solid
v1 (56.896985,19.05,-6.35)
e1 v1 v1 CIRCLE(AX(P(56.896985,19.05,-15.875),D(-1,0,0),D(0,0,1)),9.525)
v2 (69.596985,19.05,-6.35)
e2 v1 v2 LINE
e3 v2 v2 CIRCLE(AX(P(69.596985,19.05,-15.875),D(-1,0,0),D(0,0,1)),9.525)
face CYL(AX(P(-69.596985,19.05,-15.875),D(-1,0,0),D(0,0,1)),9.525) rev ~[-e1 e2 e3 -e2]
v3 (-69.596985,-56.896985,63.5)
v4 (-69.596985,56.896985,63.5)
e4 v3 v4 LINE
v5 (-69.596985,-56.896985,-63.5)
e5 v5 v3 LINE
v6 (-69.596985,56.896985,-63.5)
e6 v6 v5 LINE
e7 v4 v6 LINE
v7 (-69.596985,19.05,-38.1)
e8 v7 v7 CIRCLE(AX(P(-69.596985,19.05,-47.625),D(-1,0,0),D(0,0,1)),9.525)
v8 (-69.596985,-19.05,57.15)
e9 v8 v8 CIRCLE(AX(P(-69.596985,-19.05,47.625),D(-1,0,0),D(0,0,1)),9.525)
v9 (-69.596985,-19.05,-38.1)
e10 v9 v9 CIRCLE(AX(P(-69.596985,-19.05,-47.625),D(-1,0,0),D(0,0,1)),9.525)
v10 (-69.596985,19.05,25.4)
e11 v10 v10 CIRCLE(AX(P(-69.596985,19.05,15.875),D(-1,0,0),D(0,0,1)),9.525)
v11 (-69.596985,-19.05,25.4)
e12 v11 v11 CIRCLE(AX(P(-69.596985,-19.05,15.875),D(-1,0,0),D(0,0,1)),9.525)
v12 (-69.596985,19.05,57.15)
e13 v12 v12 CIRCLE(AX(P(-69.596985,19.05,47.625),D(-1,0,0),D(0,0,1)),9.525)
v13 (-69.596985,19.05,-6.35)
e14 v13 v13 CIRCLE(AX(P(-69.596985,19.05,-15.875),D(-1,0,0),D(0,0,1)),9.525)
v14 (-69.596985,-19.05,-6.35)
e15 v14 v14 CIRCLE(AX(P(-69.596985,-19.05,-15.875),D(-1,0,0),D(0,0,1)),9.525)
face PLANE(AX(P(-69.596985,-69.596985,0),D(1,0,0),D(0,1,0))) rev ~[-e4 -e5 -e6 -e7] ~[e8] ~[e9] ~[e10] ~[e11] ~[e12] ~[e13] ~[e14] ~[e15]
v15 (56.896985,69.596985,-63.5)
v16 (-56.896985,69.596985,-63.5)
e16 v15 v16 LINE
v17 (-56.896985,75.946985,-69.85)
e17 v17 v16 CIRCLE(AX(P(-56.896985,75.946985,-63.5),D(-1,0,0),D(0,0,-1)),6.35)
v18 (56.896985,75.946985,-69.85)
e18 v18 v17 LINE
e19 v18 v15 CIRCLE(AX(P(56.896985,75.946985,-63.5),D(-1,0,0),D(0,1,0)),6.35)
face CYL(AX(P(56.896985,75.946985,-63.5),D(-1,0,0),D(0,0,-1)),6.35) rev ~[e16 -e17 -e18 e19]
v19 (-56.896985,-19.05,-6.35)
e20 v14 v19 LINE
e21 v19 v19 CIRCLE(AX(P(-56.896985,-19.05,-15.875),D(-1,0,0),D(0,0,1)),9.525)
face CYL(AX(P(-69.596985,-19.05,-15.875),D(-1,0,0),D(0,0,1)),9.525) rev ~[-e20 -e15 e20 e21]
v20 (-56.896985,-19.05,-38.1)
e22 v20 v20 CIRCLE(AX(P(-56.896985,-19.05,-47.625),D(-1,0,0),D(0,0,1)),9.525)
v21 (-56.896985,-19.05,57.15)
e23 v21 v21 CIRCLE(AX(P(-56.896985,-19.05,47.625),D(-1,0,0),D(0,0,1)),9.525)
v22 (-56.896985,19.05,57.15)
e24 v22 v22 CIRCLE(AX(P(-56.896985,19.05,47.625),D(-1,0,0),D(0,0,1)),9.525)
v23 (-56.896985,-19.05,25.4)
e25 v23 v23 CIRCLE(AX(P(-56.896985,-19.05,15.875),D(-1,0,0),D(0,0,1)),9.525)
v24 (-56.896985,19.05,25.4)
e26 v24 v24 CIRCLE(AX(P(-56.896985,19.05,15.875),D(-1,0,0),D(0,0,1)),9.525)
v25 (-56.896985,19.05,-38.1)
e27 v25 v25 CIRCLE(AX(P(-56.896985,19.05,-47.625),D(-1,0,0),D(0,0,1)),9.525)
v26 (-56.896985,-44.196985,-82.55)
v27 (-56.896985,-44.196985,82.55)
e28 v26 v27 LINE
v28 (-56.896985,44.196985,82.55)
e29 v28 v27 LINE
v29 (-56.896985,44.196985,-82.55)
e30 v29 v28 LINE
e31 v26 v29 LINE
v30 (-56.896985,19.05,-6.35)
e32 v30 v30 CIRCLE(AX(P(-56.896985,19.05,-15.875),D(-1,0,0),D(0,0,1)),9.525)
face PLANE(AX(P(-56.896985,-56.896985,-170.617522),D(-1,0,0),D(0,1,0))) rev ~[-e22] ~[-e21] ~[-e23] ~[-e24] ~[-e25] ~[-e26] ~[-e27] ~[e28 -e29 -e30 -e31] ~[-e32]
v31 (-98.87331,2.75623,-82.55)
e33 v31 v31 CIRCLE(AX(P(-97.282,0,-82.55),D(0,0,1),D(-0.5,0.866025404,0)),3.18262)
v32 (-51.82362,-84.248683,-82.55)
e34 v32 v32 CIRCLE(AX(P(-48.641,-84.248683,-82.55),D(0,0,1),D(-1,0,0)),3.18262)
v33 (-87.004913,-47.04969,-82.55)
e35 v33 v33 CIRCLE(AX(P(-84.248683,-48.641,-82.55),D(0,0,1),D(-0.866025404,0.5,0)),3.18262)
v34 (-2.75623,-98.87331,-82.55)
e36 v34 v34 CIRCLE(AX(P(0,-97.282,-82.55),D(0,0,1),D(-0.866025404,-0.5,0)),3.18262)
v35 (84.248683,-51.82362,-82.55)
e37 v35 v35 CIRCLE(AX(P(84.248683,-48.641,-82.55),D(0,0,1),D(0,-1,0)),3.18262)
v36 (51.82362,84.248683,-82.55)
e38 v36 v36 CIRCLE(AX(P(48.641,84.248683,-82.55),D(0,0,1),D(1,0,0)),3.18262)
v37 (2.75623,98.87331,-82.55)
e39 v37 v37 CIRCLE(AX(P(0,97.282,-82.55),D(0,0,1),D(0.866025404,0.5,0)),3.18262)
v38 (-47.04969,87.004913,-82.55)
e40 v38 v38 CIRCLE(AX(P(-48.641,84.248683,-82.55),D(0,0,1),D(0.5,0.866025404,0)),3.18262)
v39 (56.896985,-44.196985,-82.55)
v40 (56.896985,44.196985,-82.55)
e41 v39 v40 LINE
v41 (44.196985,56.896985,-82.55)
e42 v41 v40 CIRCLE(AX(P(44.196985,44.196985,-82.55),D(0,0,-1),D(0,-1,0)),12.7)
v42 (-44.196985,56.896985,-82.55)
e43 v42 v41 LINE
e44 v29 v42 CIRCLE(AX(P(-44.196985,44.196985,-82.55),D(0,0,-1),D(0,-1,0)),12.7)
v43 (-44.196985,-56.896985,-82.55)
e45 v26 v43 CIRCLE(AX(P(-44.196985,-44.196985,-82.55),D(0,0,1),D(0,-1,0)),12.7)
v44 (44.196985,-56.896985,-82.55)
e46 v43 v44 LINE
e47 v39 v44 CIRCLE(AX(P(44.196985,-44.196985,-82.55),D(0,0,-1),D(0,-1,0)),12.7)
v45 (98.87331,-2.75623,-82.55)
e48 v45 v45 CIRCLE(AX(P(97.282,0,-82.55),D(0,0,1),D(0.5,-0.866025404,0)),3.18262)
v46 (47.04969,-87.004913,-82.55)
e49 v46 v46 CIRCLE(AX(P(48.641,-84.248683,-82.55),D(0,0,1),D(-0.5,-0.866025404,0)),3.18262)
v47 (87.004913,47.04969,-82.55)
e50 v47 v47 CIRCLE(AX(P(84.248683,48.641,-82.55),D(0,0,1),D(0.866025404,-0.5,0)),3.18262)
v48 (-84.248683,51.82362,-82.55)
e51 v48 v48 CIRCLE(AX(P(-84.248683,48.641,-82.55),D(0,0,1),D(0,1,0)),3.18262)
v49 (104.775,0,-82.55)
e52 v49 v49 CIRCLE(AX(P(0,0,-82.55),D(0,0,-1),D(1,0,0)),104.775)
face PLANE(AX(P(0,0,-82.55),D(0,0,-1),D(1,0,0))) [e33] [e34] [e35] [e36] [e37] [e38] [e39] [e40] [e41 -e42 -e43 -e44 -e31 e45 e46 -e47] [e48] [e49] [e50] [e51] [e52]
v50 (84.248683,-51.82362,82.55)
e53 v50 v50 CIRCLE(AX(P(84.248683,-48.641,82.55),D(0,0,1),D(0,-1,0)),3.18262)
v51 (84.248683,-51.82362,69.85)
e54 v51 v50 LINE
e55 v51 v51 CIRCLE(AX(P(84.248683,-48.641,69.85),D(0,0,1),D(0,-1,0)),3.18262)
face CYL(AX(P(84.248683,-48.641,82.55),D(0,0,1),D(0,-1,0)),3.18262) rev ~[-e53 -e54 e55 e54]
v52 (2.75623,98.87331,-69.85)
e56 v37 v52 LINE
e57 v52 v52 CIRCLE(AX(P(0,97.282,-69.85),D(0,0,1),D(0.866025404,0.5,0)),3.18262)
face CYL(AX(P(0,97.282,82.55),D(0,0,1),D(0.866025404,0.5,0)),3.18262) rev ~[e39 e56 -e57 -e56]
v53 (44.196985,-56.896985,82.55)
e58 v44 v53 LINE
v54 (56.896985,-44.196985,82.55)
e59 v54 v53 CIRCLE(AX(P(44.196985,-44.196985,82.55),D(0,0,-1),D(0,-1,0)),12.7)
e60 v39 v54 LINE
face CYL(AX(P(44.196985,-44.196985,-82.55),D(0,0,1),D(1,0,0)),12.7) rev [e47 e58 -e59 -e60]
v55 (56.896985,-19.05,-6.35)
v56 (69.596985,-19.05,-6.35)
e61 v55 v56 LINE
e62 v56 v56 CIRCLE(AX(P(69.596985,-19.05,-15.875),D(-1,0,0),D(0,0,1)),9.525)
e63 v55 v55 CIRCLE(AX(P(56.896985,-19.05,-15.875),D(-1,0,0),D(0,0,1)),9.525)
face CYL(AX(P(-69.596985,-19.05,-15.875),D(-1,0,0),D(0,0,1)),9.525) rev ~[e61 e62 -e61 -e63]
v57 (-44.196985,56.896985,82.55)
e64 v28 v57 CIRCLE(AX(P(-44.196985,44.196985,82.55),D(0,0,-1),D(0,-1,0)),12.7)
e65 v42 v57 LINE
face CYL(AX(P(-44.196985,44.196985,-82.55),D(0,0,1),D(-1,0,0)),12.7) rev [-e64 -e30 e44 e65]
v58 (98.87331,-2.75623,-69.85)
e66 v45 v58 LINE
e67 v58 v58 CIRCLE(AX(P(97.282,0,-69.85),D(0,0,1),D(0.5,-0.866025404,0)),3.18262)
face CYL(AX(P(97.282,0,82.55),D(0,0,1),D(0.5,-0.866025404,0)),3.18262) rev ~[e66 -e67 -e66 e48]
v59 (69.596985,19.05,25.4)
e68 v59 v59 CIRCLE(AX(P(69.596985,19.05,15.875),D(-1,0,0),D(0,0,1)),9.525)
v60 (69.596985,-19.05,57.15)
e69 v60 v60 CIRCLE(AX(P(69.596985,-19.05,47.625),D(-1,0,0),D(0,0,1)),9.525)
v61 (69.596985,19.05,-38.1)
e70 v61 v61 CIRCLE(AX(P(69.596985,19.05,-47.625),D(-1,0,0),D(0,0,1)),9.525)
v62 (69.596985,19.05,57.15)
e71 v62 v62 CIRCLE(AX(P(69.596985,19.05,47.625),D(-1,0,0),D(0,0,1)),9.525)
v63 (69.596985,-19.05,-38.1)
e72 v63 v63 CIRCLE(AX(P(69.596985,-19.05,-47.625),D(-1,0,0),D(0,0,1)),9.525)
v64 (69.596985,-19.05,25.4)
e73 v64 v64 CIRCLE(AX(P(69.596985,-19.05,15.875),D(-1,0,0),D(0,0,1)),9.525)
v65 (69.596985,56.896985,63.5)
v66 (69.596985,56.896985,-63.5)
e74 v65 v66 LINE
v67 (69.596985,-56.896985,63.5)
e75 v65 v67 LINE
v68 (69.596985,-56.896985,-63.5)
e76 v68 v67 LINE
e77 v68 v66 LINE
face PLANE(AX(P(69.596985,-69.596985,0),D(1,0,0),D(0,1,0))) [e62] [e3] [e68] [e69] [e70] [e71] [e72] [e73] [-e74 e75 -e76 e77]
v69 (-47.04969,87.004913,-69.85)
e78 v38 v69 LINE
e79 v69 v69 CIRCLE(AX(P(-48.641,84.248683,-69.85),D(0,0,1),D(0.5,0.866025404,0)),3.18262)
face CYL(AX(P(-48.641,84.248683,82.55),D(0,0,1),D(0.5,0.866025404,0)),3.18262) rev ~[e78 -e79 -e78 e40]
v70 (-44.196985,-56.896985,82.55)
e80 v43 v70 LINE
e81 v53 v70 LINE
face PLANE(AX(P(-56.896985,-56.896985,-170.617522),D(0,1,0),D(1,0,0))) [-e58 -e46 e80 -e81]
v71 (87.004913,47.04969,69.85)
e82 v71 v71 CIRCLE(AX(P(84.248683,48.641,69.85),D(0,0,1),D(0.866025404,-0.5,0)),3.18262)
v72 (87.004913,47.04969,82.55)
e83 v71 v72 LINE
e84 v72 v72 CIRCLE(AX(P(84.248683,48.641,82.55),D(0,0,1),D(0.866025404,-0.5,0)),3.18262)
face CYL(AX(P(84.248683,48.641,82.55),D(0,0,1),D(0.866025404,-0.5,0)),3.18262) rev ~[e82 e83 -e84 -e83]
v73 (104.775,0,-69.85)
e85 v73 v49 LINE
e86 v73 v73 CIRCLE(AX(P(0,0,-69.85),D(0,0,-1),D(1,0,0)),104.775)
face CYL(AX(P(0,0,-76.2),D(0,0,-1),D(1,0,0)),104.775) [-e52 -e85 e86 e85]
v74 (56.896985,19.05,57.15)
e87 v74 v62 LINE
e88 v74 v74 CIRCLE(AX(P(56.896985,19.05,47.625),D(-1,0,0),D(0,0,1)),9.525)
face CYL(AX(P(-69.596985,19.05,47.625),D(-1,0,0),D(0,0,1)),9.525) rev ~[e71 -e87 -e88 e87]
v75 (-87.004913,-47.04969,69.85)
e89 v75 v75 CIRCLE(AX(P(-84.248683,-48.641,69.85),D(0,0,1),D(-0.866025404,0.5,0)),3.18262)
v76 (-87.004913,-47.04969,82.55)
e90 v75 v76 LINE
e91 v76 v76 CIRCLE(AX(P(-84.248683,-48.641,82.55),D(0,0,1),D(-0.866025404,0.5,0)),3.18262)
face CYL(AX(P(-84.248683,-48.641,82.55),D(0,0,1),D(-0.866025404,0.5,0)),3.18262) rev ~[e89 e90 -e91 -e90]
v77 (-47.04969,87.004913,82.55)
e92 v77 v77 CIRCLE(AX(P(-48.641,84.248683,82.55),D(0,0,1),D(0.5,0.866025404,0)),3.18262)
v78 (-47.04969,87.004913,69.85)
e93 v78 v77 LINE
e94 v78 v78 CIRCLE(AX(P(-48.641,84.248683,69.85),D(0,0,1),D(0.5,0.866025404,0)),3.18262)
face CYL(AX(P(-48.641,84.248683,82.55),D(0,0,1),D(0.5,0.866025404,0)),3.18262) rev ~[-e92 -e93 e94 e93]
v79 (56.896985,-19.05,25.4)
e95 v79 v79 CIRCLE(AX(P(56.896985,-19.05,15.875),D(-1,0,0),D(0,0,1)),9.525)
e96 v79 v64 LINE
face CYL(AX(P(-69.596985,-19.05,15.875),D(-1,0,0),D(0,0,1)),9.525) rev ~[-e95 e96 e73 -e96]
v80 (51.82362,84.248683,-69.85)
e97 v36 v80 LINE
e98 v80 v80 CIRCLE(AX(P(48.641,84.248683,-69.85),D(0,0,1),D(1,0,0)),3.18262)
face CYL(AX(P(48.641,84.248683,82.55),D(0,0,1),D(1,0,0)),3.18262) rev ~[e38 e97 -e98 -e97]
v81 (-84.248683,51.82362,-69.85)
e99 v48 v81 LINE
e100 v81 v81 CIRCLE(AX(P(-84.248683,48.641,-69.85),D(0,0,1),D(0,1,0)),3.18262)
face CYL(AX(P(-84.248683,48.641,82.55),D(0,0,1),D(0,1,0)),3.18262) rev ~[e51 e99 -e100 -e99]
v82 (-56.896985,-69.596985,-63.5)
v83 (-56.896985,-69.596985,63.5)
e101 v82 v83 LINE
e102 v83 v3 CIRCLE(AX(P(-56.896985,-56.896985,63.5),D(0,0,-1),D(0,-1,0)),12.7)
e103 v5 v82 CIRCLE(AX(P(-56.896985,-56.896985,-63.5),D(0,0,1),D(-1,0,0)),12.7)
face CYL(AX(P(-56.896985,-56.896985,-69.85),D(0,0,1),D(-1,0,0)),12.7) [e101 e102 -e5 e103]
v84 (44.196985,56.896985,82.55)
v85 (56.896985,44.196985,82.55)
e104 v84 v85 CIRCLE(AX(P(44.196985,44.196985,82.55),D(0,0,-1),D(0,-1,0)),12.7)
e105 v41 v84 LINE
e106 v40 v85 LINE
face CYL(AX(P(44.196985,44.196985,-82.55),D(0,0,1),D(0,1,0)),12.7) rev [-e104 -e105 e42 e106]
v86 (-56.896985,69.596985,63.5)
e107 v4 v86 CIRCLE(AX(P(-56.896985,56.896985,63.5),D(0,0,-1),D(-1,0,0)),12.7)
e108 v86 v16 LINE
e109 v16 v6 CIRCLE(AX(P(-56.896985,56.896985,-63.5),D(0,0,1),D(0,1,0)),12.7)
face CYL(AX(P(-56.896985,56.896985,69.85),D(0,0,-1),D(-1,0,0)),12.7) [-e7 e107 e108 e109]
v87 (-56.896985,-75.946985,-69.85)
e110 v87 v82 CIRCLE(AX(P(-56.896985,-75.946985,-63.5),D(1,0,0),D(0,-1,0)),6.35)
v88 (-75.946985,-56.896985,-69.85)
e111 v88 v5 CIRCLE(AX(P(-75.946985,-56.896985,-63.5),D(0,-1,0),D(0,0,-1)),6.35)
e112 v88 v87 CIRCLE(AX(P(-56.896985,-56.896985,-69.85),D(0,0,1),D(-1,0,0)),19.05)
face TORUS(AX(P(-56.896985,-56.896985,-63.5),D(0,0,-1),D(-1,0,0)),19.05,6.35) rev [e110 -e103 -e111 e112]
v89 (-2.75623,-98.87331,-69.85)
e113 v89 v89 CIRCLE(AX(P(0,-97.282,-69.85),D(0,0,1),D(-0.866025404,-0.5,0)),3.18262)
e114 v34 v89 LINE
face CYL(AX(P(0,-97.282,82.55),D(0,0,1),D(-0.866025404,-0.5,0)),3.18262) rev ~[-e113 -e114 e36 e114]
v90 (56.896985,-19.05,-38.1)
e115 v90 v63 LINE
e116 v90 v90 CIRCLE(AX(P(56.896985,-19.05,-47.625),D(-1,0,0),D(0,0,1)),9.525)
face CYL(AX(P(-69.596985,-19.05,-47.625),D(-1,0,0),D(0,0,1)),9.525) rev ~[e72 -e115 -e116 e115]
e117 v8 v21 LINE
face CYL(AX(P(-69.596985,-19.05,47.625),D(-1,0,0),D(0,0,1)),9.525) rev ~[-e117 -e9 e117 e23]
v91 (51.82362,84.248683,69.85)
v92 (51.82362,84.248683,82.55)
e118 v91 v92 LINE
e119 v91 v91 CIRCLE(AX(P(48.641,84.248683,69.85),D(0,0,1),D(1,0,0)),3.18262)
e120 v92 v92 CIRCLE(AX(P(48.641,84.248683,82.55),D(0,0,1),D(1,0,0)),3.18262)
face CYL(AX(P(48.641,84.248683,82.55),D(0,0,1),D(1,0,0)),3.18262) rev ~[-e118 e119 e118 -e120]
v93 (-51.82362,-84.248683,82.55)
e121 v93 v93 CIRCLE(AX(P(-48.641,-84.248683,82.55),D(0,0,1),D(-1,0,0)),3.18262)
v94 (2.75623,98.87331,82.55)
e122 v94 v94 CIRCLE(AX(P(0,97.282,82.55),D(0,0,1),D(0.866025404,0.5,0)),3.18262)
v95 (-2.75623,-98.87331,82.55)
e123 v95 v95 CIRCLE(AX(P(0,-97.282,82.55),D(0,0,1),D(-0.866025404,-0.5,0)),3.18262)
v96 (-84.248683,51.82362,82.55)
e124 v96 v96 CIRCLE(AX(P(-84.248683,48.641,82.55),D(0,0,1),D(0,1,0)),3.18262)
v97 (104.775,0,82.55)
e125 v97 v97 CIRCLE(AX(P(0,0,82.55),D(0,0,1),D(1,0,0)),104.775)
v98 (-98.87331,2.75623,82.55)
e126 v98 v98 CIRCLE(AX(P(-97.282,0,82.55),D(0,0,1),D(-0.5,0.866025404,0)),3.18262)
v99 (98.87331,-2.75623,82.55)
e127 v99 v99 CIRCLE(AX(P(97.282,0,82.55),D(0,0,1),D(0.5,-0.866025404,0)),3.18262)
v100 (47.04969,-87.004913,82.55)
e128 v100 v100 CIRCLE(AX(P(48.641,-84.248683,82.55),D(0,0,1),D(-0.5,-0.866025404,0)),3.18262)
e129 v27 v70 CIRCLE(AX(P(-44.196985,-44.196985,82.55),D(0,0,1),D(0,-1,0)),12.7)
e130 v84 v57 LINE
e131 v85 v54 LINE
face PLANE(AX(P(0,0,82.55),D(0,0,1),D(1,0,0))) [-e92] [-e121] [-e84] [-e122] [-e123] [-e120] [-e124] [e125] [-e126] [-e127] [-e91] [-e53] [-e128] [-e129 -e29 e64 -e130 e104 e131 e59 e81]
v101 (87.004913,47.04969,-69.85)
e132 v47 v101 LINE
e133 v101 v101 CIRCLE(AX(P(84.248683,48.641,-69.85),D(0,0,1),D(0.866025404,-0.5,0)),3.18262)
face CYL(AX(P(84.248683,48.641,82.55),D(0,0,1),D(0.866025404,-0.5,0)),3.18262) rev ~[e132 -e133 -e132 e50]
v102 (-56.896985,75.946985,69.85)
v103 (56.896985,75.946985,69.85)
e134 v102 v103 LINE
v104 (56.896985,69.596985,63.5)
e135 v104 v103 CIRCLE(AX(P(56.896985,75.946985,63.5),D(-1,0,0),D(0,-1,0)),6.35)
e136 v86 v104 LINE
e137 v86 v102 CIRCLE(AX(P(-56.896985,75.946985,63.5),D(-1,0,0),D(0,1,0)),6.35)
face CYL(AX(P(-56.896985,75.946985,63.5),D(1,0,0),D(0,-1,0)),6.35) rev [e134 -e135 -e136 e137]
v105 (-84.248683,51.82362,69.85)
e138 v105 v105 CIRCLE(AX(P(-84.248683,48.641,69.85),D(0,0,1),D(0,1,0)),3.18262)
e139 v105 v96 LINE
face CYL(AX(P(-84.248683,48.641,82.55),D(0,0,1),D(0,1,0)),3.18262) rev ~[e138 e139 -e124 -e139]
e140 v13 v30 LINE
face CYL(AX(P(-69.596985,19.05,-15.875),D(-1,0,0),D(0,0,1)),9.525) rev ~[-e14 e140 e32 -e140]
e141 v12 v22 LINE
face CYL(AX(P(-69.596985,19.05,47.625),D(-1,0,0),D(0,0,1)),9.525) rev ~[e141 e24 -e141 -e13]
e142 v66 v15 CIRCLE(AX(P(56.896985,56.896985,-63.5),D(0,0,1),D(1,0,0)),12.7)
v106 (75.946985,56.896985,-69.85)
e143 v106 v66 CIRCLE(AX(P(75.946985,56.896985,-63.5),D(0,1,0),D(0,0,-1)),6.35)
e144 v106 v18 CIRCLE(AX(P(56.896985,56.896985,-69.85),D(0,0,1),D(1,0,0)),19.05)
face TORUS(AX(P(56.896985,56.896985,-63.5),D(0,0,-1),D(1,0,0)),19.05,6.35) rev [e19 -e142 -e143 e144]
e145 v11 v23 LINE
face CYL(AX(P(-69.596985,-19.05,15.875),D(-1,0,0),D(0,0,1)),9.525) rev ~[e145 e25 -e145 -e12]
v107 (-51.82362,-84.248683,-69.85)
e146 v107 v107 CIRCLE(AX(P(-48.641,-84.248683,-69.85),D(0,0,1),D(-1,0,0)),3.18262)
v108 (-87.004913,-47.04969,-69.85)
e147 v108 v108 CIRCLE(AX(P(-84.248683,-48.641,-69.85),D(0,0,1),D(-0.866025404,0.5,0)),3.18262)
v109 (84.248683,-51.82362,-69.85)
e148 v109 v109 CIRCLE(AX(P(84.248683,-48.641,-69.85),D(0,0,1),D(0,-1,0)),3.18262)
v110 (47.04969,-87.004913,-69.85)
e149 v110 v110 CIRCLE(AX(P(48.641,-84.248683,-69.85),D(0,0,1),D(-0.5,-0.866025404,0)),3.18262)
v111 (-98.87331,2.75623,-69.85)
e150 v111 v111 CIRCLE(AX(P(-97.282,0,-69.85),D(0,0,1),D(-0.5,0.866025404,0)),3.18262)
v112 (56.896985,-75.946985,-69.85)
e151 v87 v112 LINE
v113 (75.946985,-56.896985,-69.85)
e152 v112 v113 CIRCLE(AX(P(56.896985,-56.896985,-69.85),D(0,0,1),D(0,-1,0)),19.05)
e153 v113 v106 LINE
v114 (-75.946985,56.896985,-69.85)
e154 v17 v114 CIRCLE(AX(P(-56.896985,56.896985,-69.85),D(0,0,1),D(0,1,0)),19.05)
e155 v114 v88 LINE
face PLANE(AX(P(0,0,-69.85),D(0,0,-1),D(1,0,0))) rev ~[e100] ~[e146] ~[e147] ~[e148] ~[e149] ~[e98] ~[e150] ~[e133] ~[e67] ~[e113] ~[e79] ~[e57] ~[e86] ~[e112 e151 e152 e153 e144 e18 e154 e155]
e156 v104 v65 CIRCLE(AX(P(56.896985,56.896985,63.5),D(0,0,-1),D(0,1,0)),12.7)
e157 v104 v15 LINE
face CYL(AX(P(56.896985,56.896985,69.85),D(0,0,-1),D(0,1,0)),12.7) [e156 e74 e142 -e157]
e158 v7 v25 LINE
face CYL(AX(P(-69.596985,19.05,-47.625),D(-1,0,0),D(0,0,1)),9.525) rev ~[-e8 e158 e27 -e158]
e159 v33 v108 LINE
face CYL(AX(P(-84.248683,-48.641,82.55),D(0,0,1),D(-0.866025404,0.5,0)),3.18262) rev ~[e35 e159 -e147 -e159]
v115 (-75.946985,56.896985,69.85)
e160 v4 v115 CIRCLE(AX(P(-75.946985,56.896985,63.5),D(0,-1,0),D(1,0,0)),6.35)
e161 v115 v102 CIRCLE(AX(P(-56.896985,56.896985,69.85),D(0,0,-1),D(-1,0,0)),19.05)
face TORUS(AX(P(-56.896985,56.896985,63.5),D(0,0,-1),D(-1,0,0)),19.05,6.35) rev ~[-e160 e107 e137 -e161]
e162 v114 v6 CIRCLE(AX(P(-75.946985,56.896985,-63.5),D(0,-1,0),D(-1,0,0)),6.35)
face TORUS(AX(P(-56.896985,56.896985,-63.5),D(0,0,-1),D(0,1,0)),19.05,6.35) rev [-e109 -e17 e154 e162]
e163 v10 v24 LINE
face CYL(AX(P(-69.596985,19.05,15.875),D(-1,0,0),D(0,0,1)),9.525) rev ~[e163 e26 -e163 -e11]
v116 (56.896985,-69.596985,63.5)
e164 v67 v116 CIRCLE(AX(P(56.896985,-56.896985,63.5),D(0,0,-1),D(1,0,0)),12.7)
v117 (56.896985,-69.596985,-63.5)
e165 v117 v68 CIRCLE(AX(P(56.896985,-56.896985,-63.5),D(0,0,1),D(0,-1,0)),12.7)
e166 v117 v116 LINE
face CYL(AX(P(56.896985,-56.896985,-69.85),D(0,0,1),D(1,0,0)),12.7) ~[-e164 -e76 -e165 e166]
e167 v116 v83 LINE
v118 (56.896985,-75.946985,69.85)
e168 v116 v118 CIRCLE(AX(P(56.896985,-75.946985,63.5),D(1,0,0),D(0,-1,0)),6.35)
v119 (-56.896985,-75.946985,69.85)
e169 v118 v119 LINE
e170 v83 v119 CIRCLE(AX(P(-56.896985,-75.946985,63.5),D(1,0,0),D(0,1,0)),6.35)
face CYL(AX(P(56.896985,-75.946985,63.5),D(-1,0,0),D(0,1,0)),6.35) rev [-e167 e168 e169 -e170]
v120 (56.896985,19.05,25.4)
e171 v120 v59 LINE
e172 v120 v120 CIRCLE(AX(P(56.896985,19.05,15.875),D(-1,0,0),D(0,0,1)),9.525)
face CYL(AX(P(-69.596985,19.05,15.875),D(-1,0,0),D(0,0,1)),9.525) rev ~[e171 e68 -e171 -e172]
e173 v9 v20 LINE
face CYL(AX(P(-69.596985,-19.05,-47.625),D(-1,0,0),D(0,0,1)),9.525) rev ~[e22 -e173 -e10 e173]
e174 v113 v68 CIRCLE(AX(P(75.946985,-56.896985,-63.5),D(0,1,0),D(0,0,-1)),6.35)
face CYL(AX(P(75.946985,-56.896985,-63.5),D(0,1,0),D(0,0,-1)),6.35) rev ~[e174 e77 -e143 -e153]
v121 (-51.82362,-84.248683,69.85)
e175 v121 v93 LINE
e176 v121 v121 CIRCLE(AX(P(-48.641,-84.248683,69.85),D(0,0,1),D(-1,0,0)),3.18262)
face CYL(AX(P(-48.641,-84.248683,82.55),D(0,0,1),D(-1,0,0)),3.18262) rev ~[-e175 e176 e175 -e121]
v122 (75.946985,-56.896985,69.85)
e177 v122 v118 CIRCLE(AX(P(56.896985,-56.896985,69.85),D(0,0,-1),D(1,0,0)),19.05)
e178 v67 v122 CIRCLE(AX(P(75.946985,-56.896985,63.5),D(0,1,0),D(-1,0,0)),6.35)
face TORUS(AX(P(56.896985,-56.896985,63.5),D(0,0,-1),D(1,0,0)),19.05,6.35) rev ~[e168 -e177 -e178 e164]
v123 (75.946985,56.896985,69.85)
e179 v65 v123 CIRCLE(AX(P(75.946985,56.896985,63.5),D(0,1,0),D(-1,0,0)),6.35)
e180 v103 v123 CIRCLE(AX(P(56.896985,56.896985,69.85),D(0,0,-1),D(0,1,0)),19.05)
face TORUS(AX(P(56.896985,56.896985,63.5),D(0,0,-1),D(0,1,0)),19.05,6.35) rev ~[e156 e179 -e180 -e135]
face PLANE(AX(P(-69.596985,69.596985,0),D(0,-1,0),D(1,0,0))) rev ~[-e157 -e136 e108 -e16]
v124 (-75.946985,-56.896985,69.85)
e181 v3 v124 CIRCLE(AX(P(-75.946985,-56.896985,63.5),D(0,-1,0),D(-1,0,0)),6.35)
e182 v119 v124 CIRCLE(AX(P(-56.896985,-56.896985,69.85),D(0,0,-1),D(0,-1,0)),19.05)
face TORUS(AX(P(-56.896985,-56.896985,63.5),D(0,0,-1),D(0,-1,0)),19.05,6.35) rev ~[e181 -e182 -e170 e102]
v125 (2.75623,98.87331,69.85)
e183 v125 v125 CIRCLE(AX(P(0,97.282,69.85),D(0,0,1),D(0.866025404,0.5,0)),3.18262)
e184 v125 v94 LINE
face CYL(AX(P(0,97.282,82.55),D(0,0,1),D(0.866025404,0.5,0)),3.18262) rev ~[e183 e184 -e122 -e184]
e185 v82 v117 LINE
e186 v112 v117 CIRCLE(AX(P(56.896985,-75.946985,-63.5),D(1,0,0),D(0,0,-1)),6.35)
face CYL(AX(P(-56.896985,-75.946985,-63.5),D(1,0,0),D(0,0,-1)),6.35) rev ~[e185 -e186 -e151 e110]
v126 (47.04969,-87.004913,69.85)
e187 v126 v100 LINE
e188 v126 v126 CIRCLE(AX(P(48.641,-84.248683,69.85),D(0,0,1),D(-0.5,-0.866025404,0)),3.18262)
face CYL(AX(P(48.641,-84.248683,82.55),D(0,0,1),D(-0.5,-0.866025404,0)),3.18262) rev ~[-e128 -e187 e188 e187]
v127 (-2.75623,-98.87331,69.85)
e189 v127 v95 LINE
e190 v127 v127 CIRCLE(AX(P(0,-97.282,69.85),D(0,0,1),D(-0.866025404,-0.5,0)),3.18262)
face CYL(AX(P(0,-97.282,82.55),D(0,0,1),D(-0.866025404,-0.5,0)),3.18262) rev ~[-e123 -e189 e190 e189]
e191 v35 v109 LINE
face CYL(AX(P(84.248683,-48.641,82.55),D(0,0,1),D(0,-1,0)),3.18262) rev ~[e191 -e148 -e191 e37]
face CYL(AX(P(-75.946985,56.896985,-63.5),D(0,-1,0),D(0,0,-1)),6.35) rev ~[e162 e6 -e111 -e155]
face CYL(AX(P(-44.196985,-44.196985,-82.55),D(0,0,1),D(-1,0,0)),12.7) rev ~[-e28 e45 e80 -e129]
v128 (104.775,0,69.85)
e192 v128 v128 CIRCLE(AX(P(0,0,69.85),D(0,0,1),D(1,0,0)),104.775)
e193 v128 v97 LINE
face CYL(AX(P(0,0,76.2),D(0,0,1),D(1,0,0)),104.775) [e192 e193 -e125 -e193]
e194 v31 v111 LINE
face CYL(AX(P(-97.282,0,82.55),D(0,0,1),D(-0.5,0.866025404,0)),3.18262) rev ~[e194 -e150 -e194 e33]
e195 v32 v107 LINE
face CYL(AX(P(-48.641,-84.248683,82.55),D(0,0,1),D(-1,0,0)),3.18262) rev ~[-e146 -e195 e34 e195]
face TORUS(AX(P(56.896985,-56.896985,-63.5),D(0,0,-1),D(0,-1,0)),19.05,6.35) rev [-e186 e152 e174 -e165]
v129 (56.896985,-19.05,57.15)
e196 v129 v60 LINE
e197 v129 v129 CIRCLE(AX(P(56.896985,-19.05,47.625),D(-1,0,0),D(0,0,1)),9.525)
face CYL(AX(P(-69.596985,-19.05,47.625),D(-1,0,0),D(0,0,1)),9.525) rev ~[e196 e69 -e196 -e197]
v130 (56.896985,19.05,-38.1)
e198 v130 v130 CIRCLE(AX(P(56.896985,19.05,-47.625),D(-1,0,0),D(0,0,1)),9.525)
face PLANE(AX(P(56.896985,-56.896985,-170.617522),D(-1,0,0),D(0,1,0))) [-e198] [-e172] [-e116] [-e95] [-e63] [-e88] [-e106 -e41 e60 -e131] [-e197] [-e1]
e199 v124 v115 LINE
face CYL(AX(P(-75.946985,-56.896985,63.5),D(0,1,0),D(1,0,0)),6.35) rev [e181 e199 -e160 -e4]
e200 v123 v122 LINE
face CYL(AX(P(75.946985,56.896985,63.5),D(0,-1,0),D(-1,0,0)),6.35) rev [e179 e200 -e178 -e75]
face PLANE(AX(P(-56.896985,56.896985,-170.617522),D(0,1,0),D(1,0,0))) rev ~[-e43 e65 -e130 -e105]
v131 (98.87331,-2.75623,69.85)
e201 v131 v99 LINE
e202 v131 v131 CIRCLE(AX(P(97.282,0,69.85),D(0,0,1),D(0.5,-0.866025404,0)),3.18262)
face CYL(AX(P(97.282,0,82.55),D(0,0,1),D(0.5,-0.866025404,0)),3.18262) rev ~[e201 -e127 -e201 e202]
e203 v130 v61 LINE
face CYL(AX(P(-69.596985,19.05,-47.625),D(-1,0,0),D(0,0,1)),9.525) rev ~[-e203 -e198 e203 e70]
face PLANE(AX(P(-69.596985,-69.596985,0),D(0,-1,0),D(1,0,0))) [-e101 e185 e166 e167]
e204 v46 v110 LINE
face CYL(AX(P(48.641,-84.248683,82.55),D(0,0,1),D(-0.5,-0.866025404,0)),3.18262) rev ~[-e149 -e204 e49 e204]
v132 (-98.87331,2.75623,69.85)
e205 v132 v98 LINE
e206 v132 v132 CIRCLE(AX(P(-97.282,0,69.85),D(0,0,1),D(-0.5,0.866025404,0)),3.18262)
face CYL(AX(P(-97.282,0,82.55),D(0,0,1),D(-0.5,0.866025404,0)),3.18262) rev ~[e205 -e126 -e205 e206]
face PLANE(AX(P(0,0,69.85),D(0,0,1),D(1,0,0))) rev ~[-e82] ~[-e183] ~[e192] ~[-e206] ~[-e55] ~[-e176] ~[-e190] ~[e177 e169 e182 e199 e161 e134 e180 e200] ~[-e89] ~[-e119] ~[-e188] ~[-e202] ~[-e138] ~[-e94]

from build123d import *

# Parameters (mm, degrees)
SKETCH2_W               = 139.193969876
SKETCH2_H               = 139.193969876
BOSS_EXTRUDE1_DEPTH     = 76.2
SKETCH3_R               = 104.775
BOSS_EXTRUDE2_DEPTH     = 6.35
SKETCH4_R               = 104.775
BOSS_EXTRUDE3_DEPTH     = 6.35
CUT_EXTRUDE1_DEPTH      = 170.617521943
CUT_EXTRUDE1_DEPTH_BACK = 170.617521943
SKETCH2_3_W             = 113.793969876
SKETCH2_3_H             = 113.793969876
FILLET1_R               = 12.7
SKETCH6_R               = 3.18262
CUT_EXTRUDE2_DEPTH      = 222.841410133
CIRPATTERN1_COUNT       = 12
SKETCH8_R               = 9.525
CUT_EXTRUDE3_DEPTH      = 220.540183694
FILLET2_R               = 6.35


with BuildPart() as part:
    # Sketch2 → Boss-Extrude1 (new, symmetric)
    with BuildSketch(Plane.XY):
        Rectangle(SKETCH2_W, SKETCH2_H)
    extrude(amount=BOSS_EXTRUDE1_DEPTH, both=True)

    # Sketch3 → Boss-Extrude2 (add, symmetric)
    with BuildSketch(Plane.XY.offset(76.2)):
        Circle(SKETCH3_R)
    extrude(amount=BOSS_EXTRUDE2_DEPTH, both=True)

    # Sketch4 → Boss-Extrude3 (add, symmetric)
    with BuildSketch(Plane(origin=(0, 0, -76.2), x_dir=(-1, 0, 0), z_dir=(0, 0, -1))):
        Circle(SKETCH4_R)
    extrude(amount=BOSS_EXTRUDE3_DEPTH, both=True)

    # Sketch2<3> → Cut-Extrude1 (cut, two sides: drawn at the far end of the back side and taken through both)
    with BuildSketch(Plane.XY.offset(-CUT_EXTRUDE1_DEPTH_BACK)):
        Rectangle(SKETCH2_3_W, SKETCH2_3_H)
    extrude(amount=CUT_EXTRUDE1_DEPTH + CUT_EXTRUDE1_DEPTH_BACK, mode=Mode.SUBTRACT)

    # Fillet1
    fillet1_edges = [part.edges().sort_by_distance(p)[0] for p in [
        (69.596984938, -69.596984938, 0),
        (-69.596984938, -69.596984938, 0),
        (-56.896984938, -56.896984938, 0),
        (56.896984938, -56.896984938, 0),
        (56.896984938, 56.896984938, 0),
        (-56.896984938, 56.896984938, 0),
        (69.596984938, 69.596984938, 0),
        (-69.596984938, 69.596984938, 0),
    ]]
    fillet(fillet1_edges, radius=FILLET1_R)

    # Sketch6 → Cut-Extrude2 (cut, symmetric)
    with BuildSketch(Plane.XY.offset(82.55)):
        with Locations((48.641, 84.248683331)):
            Circle(SKETCH6_R)
    cut_extrude2 = extrude(amount=CUT_EXTRUDE2_DEPTH, both=True, mode=Mode.SUBTRACT)

    # CirPattern1: Cut-Extrude2 ×12 about axis
    cirpattern1_axis = Axis((0, 0, 82.55), (0, 0, -1))
    for i in range(1, CIRPATTERN1_COUNT):
        add(cut_extrude2.rotate(cirpattern1_axis, i * 360 / CIRPATTERN1_COUNT), mode=Mode.SUBTRACT)

    # Sketch8 → Cut-Extrude3 (cut, through all)
    with BuildSketch(Plane.ZY.offset(69.596984938)):
        with Locations((-47.625, 19.05)):
            Circle(SKETCH8_R)
        with Locations((47.625, 19.05)):
            Circle(SKETCH8_R)
        with Locations((-15.875, 19.05)):
            Circle(SKETCH8_R)
        with Locations((15.875, 19.05)):
            Circle(SKETCH8_R)
        with Locations((15.875, -19.05)):
            Circle(SKETCH8_R)
        with Locations((-15.875, -19.05)):
            Circle(SKETCH8_R)
        with Locations((47.625, -19.05)):
            Circle(SKETCH8_R)
        with Locations((-47.625, -19.05)):
            Circle(SKETCH8_R)
    extrude(amount=-CUT_EXTRUDE3_DEPTH, mode=Mode.SUBTRACT)

    # Fillet2
    fillet2_edges = [part.edges().sort_by_distance(p)[0] for p in [
        (65.877241059, 65.877241059, -69.85),
        (69.596984938, 0, -69.85),
        (65.877241059, -65.877241059, -69.85),
        (0, -69.596984938, -69.85),
        (-65.877241059, -65.877241059, -69.85),
        (-69.596984938, 0, -69.85),
        (-65.877241059, 65.877241059, -69.85),
        (-65.877241059, 65.877241059, 69.85),
        (-69.596984938, 0, 69.85),
        (-65.877241059, -65.877241059, 69.85),
        (0, -69.596984938, 69.85),
        (65.877241059, -65.877241059, 69.85),
        (69.596984938, 0, 69.85),
        (65.877241059, 65.877241059, 69.85),
        (0, 69.596984938, -69.85),
        (0, 69.596984938, 69.85),
    ]]
    fillet(fillet2_edges, radius=FILLET2_R)


solid = part.part
